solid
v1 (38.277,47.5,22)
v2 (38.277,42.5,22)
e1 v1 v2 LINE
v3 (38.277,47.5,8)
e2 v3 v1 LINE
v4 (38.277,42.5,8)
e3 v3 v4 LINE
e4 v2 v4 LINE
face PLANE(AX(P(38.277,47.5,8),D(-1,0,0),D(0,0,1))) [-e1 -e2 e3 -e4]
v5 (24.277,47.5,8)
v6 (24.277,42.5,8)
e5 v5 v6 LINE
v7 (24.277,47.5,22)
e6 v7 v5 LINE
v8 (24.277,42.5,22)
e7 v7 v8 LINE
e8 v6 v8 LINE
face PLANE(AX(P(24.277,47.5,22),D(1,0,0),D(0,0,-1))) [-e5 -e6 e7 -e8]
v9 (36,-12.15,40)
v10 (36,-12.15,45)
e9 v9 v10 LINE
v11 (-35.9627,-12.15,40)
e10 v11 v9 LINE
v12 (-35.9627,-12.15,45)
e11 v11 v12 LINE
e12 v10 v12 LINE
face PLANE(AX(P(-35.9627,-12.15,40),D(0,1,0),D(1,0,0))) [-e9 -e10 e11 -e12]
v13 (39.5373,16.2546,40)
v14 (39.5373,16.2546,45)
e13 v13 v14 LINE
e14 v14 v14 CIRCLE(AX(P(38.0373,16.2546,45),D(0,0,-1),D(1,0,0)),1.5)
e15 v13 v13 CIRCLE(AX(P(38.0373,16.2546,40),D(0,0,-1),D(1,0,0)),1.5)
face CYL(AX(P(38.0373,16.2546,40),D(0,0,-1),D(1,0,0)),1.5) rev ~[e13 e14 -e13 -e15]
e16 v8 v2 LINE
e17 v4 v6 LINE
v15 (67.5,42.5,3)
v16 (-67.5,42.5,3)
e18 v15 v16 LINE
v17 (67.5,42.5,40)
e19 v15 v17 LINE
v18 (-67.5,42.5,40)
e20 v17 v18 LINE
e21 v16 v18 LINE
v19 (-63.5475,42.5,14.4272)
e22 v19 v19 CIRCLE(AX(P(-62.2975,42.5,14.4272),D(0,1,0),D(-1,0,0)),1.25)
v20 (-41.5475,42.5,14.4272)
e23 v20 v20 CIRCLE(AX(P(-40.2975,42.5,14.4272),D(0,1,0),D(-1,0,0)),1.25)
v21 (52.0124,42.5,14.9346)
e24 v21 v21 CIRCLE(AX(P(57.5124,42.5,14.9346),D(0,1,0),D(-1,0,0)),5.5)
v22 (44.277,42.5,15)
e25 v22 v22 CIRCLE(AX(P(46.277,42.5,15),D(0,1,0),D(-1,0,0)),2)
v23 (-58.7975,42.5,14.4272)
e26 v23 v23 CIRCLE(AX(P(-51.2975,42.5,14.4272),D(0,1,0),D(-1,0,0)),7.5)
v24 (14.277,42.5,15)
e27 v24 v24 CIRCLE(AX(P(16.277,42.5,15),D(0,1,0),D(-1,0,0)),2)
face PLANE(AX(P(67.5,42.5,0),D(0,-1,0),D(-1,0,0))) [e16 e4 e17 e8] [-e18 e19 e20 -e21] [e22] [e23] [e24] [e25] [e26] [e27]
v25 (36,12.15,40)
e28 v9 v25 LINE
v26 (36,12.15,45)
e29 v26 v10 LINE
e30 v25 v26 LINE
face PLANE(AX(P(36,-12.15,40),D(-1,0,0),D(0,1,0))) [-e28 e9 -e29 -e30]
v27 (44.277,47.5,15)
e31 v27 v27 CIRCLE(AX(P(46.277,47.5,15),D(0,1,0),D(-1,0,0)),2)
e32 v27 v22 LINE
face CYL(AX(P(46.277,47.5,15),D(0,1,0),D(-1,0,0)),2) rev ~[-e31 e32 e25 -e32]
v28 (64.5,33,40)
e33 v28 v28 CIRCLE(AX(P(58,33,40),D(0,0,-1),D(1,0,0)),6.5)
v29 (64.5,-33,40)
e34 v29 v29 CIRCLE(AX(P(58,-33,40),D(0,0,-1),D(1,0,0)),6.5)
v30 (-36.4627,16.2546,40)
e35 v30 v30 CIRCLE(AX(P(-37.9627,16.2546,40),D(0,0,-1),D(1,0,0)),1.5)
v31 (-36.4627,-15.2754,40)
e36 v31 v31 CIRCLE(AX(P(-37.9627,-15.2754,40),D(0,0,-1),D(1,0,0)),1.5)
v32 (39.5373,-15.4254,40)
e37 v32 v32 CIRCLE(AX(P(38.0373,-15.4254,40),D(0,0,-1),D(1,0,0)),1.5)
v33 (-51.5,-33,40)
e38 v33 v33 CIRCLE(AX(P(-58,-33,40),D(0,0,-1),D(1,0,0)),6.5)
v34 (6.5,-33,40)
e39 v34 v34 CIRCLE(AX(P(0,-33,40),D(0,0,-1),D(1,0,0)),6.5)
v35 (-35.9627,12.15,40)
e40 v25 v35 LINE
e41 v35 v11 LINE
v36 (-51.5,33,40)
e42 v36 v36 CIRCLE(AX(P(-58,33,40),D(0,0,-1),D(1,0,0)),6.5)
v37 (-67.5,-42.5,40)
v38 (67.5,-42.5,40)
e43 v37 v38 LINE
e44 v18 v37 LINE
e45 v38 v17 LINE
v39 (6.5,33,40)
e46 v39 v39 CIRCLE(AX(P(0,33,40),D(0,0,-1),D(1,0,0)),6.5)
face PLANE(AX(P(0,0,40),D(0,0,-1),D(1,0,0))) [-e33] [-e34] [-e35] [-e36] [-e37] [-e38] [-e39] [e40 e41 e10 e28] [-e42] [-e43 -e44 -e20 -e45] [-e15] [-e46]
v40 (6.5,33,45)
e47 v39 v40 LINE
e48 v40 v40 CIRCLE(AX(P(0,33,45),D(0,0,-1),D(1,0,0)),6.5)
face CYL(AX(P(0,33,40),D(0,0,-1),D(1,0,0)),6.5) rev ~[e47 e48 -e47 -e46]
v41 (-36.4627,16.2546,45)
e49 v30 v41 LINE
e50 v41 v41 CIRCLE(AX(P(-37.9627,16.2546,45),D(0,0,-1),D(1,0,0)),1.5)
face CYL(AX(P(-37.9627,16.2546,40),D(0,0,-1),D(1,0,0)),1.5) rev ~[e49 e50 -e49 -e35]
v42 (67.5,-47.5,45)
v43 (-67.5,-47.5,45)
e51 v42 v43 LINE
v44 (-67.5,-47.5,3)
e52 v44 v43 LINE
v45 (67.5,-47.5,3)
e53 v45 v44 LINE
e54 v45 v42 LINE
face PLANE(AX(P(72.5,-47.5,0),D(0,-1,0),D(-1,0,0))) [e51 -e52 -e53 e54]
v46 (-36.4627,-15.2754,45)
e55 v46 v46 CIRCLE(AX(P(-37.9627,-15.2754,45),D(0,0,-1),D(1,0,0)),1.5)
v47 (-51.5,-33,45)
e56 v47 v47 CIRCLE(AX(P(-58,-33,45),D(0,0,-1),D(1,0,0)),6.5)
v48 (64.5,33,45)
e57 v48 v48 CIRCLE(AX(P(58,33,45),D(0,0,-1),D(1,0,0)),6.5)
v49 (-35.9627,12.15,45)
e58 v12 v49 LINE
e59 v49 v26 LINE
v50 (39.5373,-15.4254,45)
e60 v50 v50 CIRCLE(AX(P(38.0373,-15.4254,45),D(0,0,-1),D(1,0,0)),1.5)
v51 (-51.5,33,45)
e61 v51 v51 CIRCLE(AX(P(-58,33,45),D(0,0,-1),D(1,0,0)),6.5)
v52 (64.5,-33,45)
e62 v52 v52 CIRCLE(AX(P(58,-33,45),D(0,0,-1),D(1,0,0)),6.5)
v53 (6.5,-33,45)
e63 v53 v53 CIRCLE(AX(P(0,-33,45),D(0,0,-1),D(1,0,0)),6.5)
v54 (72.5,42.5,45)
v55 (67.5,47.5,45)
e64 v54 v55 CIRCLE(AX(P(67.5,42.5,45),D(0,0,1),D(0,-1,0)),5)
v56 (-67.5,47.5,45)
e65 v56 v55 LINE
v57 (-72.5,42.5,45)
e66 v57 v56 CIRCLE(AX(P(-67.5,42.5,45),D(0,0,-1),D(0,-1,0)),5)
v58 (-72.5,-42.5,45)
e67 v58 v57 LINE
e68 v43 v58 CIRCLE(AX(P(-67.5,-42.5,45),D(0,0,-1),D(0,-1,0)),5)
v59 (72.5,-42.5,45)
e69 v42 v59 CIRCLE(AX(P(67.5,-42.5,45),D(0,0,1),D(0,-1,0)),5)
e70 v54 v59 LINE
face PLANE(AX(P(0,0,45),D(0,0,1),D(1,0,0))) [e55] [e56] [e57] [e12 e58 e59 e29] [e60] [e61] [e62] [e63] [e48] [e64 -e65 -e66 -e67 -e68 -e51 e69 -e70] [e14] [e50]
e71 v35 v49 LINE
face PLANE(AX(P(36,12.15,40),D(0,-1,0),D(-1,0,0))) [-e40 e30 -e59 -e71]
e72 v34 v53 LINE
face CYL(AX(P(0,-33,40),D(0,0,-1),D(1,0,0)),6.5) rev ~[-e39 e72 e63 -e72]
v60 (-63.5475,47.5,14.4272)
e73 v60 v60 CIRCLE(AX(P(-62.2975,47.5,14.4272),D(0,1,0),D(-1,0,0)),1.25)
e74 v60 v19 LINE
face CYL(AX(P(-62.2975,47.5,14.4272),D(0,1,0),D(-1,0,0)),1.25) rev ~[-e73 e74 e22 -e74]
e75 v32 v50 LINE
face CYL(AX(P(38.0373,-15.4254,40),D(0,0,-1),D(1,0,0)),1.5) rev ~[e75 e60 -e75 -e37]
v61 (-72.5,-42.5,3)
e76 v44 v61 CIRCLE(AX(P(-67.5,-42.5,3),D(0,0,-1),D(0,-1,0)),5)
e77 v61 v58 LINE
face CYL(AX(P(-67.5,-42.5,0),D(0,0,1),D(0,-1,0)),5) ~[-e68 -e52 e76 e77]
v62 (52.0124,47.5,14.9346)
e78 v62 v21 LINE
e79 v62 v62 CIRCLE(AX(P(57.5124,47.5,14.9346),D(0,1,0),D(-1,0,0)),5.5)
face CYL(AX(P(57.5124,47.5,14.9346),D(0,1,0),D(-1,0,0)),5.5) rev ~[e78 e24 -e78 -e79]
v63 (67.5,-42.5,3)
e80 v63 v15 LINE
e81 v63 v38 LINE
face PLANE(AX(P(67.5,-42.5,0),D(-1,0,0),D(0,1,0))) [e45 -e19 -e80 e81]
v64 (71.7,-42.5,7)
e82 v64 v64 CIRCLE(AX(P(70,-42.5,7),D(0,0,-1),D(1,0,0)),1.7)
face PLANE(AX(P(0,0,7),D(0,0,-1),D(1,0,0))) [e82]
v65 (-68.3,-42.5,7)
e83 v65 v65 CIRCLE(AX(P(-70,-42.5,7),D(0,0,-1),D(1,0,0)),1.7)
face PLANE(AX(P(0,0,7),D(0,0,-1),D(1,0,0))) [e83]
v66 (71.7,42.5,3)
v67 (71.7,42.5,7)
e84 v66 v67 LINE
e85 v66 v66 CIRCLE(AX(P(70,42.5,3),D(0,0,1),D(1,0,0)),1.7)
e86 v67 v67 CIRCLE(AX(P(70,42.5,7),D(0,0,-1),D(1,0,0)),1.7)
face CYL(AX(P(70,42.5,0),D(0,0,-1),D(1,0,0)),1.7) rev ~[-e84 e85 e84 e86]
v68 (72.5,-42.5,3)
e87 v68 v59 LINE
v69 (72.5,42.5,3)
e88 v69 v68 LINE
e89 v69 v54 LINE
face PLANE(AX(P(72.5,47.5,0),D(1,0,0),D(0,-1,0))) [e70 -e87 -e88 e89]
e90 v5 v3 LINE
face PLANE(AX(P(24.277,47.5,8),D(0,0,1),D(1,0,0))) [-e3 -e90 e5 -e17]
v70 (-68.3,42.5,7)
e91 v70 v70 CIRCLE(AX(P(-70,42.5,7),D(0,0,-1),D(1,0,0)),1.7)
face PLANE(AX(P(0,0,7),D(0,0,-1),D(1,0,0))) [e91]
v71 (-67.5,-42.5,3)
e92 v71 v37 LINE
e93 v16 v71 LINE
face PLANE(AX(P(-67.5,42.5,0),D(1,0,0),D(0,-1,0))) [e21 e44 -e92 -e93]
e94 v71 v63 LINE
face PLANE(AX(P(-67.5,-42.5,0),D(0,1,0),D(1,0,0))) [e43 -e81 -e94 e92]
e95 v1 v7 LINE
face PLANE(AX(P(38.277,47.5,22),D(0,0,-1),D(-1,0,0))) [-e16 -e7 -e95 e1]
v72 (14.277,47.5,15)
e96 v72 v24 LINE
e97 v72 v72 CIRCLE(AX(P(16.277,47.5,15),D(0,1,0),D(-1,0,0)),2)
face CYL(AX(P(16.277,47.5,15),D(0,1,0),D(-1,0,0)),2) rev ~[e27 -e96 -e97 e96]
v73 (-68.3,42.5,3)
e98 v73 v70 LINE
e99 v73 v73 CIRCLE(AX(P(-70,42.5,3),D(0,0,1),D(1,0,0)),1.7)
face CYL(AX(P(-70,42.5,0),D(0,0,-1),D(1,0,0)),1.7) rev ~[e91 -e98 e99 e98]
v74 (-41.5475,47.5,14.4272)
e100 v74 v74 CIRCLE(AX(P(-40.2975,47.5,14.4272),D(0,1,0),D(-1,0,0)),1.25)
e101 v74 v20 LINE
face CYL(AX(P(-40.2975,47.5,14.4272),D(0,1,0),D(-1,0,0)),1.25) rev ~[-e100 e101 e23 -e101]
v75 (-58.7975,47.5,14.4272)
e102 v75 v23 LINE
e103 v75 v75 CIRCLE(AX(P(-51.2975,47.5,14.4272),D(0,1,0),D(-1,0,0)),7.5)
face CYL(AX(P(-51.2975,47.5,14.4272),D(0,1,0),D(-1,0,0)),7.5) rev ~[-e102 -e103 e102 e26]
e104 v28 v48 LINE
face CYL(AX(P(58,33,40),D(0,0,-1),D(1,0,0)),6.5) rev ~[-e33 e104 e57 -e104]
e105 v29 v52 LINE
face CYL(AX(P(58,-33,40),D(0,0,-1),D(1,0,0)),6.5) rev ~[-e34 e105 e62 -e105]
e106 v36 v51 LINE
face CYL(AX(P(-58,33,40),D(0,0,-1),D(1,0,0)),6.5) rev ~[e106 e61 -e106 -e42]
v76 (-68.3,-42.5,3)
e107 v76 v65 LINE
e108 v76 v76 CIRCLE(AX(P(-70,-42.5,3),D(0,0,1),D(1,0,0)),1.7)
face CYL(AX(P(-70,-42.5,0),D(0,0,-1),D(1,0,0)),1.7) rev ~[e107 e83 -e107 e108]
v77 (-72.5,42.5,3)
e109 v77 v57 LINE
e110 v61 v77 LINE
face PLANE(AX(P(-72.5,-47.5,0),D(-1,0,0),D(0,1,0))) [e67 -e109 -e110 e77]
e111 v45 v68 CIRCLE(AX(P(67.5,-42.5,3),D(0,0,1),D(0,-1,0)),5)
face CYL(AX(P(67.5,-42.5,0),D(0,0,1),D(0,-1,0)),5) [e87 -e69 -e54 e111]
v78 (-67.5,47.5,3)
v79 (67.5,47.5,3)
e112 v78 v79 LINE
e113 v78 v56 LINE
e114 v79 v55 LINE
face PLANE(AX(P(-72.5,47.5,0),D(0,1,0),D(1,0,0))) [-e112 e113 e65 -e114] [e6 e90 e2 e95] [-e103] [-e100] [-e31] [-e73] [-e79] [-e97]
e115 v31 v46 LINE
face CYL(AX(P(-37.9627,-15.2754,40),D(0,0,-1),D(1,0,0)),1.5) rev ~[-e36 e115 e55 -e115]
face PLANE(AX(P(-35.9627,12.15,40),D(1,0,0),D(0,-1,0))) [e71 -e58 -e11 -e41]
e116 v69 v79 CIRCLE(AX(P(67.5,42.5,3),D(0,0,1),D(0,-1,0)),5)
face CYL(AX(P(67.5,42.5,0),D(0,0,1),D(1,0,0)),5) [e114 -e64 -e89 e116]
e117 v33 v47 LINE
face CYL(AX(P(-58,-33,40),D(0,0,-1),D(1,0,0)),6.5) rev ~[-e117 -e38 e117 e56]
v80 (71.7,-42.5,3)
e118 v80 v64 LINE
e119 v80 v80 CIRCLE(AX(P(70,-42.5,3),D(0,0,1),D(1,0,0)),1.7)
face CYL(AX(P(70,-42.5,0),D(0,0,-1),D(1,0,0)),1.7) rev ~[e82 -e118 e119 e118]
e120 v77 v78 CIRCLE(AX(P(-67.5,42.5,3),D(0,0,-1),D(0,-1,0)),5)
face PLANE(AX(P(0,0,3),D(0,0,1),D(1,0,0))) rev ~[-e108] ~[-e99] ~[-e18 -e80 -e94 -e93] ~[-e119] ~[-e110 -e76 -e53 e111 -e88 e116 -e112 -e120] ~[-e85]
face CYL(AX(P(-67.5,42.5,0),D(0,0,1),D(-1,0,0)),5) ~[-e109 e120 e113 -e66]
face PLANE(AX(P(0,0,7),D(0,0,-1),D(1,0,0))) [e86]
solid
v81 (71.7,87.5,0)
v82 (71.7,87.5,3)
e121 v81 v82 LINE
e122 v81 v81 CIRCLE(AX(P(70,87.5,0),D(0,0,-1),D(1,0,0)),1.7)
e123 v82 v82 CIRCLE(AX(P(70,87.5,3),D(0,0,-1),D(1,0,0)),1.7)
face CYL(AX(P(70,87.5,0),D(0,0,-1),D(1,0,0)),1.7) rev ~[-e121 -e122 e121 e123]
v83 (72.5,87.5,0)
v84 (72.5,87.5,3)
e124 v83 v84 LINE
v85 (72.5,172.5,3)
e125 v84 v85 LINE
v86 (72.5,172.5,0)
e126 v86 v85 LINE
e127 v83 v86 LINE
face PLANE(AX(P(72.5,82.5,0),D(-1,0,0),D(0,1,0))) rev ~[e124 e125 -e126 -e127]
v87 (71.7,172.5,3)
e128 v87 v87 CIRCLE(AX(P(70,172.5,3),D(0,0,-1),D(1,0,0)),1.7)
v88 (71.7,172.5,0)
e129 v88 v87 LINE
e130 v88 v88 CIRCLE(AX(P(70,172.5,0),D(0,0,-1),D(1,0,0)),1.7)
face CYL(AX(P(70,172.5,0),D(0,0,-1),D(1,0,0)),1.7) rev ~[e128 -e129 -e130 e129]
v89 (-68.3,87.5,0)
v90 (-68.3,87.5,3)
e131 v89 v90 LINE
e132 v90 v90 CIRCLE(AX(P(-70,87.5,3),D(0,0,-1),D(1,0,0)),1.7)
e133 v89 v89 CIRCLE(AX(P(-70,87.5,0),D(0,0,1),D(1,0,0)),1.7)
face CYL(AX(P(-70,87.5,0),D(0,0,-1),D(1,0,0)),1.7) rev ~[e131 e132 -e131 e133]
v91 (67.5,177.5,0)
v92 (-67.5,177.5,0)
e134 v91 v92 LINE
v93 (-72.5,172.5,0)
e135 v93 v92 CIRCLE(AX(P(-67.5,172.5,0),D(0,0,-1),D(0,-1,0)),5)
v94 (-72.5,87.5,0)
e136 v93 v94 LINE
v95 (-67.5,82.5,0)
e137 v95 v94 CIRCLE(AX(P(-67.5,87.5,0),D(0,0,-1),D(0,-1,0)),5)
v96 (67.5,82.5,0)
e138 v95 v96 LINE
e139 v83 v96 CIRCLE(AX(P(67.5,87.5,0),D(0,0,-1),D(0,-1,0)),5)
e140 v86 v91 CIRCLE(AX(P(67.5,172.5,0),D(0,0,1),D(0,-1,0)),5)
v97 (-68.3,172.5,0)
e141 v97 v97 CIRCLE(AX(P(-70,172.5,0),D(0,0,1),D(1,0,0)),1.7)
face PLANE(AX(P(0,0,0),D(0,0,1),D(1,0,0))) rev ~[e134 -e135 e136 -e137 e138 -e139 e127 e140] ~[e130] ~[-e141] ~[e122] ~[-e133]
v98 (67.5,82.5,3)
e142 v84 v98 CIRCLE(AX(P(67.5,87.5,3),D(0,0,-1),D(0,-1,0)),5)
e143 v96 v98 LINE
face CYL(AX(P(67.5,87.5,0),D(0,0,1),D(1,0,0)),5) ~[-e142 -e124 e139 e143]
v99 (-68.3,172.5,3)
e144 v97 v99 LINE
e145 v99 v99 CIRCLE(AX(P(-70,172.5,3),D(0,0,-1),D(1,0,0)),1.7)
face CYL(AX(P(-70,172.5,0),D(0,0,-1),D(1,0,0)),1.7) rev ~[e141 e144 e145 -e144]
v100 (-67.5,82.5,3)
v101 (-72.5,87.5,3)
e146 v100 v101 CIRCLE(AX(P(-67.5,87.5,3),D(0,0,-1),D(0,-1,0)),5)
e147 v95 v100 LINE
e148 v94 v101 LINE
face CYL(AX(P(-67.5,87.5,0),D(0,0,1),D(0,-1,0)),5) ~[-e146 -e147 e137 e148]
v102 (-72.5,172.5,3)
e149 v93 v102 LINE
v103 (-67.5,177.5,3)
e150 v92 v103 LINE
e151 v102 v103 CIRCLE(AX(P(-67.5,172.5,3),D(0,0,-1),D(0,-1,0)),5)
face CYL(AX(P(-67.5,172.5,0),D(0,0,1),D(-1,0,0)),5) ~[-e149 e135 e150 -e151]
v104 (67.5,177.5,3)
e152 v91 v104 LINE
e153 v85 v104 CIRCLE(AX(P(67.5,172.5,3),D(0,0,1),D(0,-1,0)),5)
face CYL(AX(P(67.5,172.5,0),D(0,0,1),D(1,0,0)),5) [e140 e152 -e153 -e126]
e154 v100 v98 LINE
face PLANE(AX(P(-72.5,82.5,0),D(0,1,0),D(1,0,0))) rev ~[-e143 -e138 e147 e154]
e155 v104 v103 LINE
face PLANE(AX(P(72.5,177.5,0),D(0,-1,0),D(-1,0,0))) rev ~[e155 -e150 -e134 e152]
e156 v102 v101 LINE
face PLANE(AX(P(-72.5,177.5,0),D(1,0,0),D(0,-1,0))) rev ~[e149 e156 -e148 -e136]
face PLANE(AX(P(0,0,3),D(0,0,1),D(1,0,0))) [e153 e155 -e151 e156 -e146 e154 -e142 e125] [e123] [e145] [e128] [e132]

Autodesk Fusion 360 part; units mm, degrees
sketch "스케치1" plane through (0, 0, 0) normal (0, 0, 1) x (1, 0, 0)
  line L0 (72.5, -47.5) -> (-72.5, -47.5)
  line L1 (-72.5, -47.5) -> (-72.5, 47.5)
  line L2 (-72.5, 47.5) -> (72.5, 47.5)
  line L3 (72.5, 47.5) -> (72.5, -47.5)
  line L4 (72.5, -47.5) -> (-72.5, 47.5) construction
  line L5 (-72.5, -47.5) -> (72.5, 47.5) construction
  dimension "d1" = 145
  dimension "d2" = 95
extrude "돌출1" add sketch "스케치1" along normal blind 45 makes body 1
sketch "스케치2" plane through (0, 0, 0) normal (0, 0, -1) x (1, 0, 0)
  line L0 (-72.5, -47.5) -> (72.5, -47.5)
  line L1 (72.5, -47.5) -> (72.5, 47.5)
  line L2 (72.5, 47.5) -> (-72.5, 47.5)
  line L3 (-72.5, 47.5) -> (-72.5, -47.5)
  line L4 (67.5, -42.5) -> (-67.5, -42.5)
  line L5 (-67.5, -42.5) -> (-67.5, 42.5)
  line L6 (-67.5, 42.5) -> (67.5, 42.5)
  line L7 (67.5, 42.5) -> (67.5, -42.5)
  line L8 (67.5, -42.5) -> (-67.5, 42.5) construction
  line L9 (-67.5, -42.5) -> (67.5, 42.5) construction
  dimension "d5" = 135
  dimension "d6" = 85
extrude "돌출2" cut sketch "스케치2" against normal blind 40 contours L4 L5 L6 L7 bodies 1
sketch "스케치3" plane through (0, 0, 45) normal (0, 0, 1) x (-1, 0, 0)
sketch "스케치4" plane through (0, 0, 40) normal (0, 0, -1) x (1, 0, 0)
  line L0 (67.5, 42.5) -> (-67.5, 42.5)
  line L1 (-67.5, 42.5) -> (-67.5, -42.5)
  line L2 (-67.5, -42.5) -> (67.5, -42.5)
  line L3 (67.5, -42.5) -> (67.5, 42.5)
  circle A0 centre (55, -30) radius 6.5
  line L4 (67.5, 42.5) -> (55, 42.5)
  line L5 (55, 42.5) -> (55, 30)
  line L6 (55, 30) -> (67.5, 30)
  line L7 (67.5, 30) -> (67.5, 42.5)
  circle A1 centre (55, 30) radius 6.5
  line L8 (-67.5, 42.5) -> (-55, 42.5)
  line L9 (-55, 42.5) -> (-55, 30)
  line L10 (-55, 30) -> (-67.5, 30)
  line L11 (-67.5, 30) -> (-67.5, 42.5)
  circle A2 centre (-55, 30) radius 6.5
  line L12 (-67.5, -42.5) -> (-55, -42.5)
  line L13 (-55, -42.5) -> (-55, -30)
  line L14 (-55, -30) -> (-67.5, -30)
  line L15 (-67.5, -30) -> (-67.5, -42.5)
  circle A3 centre (-55, -30) radius 6.5
  line L16 (55, 30) -> (0, 30)
  circle A4 centre (0, 30) radius 6.5
  dimension "d9" = 13
  dimension "d10" = 12.5
  dimension "d11" = 12.5
  dimension "d12" = 13
  dimension "d13" = 12.5
  dimension "d14" = 12.5
  dimension "d15" = 13
  dimension "d16" = 12.5
  dimension "d17" = 12.5
  dimension "d18" = 13
  dimension "d19" = 13
extrude "돌출3" cut sketch "스케치4" against normal blind 40 contours A4 | L5 L6 A1 | L5 A1 L16 | L6 A1 L16 | L9 L10 A2 | L9 L10 A2 | L13 L14 A3 | L13 L14 A3 | A0 bodies 1
fillet "필렛1" radius 5 4 edges at (-72.5, -47.5, 22.5) (72.5, -47.5, 22.5) (72.5, 47.5, 22.5) (-72.5, 47.5, 22.5) on bodies 1
sketch "스케치5" plane through (0, 0, 40) normal (0, 0, -1) x (1, 0, 0)
  circle A0 centre (0, 30) radius 6.5
  circle A1 centre (55, 30) radius 6.5
  circle A2 centre (-55, 30) radius 6.5
  circle A3 centre (55, -30) radius 6.5
  circle A4 centre (-55, -30) radius 6.5
  line L0 (67.5, 42.5) -> (-67.5, 42.5)
  line L1 (-67.5, 42.5) -> (-67.5, -42.5)
  line L2 (-67.5, -42.5) -> (67.5, -42.5)
  line L3 (67.5, -42.5) -> (67.5, 42.5)
  circle A5 centre (38.0373, 15.4254) radius 1.5
  line L4 (36.0373, -12.2246) -> (-35.9627, -12.2246)
  line L5 (-35.9627, -12.2246) -> (-35.9627, 12.2754)
  line L6 (36.0373, 12.2754) -> (36.0373, -12.2246)
  line L7 (-35.9627, 12.2754) -> (36.0373, 12.2754)
  circle A6 centre (38.0373, -16.2546) radius 1.5
  circle A7 centre (-37.9627, -16.2546) radius 1.5
  circle A8 centre (-37.9627, 15.2754) radius 1.5
  line L8 (-36, 12.15) -> (36, 12.15)
  line L9 (36, 12.15) -> (36, -12.15)
  line L10 (36, -12.15) -> (-36, -12.15)
  line L11 (-36, -12.15) -> (-36, 12.15)
  line L12 (-36, 12.15) -> (36, -12.15) construction
  line L13 (36, 12.15) -> (-36, -12.15) construction
  dimension "d24" = 72
extrude "돌출4" cut sketch "스케치5" against normal blind 40 contours A5 | L5 L8 L9 L10 | A6 | A7 | A8 bodies 1
sketch "스케치6" plane through (0, 47.5, 0) normal (0, 1, 0) x (-1, 0, 0)
  line L0 (67.5, 0) -> (67.5, 45)
  line L1 (67.5, 45) -> (-67.5, 45)
  line L2 (-67.5, 45) -> (-67.5, 0)
  line L3 (-67.5, 0) -> (67.5, 0)
  circle A0 centre (40.6045, 15.8083) radius 7.5
  circle A1 centre (51.6045, 15.8083) radius 1.25
  circle A2 centre (29.6045, 15.8083) radius 1.25
extrude "돌출5" cut sketch "스케치6" against normal blind 10 contours A0 | A1 | A2 bodies 1
sketch "스케치7" plane through (0, 47.5, 0) normal (0, 1, 0) x (-1, 0, 0)
  circle A0 centre (40.6045, 15.8083) radius 7.5
  circle A1 centre (51.6045, 15.8083) radius 1.25
  circle A2 centre (29.6045, 15.8083) radius 1.25
  line L0 (67.5, 0) -> (67.5, 45)
  line L1 (67.5, 45) -> (-67.5, 45)
  line L2 (-67.5, 45) -> (-67.5, 0)
  line L3 (-67.5, 0) -> (67.5, 0)
  circle A3 centre (-41.3409, 16.5935) radius 5.5
  dimension "d29" = 11
extrude "돌출6" cut sketch "스케치7" against normal blind 17 contours A3 bodies 1
sketch "스케치8" plane through (0, 47.5, 0) normal (0, 1, 0) x (-1, 0, 0)
  circle A0 centre (-41.3409, 16.5935) radius 5.5
  circle A1 centre (40.6045, 15.8083) radius 7.5
  circle A2 centre (51.6045, 15.8083) radius 1.25
  circle A3 centre (29.6045, 15.8083) radius 1.25
  line L0 (67.5, 0) -> (67.5, 45)
  line L1 (67.5, 45) -> (-67.5, 45)
  line L2 (-67.5, 45) -> (-67.5, 0)
  line L3 (-67.5, 0) -> (67.5, 0)
  line L4 (0, 15) -> (-15, 15)
  line L5 (-15, 15) -> (0, 15)
  line L6 (0, 15) -> (15, 15)
  circle A4 centre (-15, 15) radius 2
  circle A5 centre (15, 15) radius 2
  line L7 (7, 8) -> (-7, 8)
  line L8 (-7, 8) -> (-7, 22)
  line L9 (-7, 22) -> (7, 22)
  line L10 (7, 22) -> (7, 8)
  line L11 (7, 8) -> (-7, 22) construction
  line L12 (-7, 8) -> (7, 22) construction
  line L13 (0, 45) -> (0, 28)
  circle A6 centre (40.6045, 15.8083) radius 7.5
  circle A7 centre (29.6045, 15.8083) radius 1.25
  circle A8 centre (51.6045, 15.8083) radius 1.25
  circle A9 centre (40.6045, 33.8083) radius 7.5
  circle A10 centre (29.6045, 33.8083) radius 1.25
  circle A11 centre (51.6045, 33.8083) radius 1.25
  point P0 (0, 15)
  dimension "d32" = 15
  dimension "d33" = 15
  dimension "d34" = 4
  dimension "d35" = 4
  dimension "d36" = 14
  dimension "d37" = 14
  dimension "d39" = 17
sketch "스케치9" plane through (0, 42.5, 0) normal (0, -1, 0) x (1, 0, 0)
  circle A0 centre (41.3409, 16.5935) radius 5.5
  circle A1 centre (-40.6045, 15.8083) radius 7.5
  circle A2 centre (-51.6045, 15.8083) radius 1.25
  circle A3 centre (-29.6045, 15.8083) radius 1.25
  line L0 (-67.5, 0) -> (67.5, 0)
  line L1 (67.5, 0) -> (67.5, 40)
  line L2 (67.5, 40) -> (-67.5, 40)
  line L3 (-67.5, 40) -> (-67.5, 0)
  line L4 (50, 40) -> (50, 28)
  dimension "d38" = 12
extrude "돌출7" add sketch "스케치8" against normal blind 5 contours A0 | A1 A6 | A2 A8 | A3 A7 bodies 1
sketch "스케치10" plane through (0, 47.5, 0) normal (0, 1, 0) x (-1, 0, 0)
  line L0 (67.5, 0) -> (67.5, 45)
  line L1 (67.5, 45) -> (-67.5, 45)
  line L2 (-67.5, 45) -> (-67.5, 0)
  line L3 (-67.5, 0) -> (67.5, 0)
  circle A0 centre (51.2975, 14.4272) radius 7.5
  circle A1 centre (40.2975, 14.4272) radius 1.25
  circle A2 centre (62.2975, 14.4272) radius 1.25
  line L4 (-38.277, 22) -> (-24.277, 22)
  line L5 (-38.277, 8) -> (-38.277, 22)
  line L6 (-24.277, 8) -> (-38.277, 8)
  line L7 (-24.277, 22) -> (-24.277, 8)
  circle A3 centre (-16.277, 15) radius 2
  circle A4 centre (-46.277, 15) radius 2
  circle A5 centre (-57.5124, 14.9346) radius 5.5
  line L8 (0, 45) -> (0, 28)
  line L9 (0, 28) -> (1.5663, 28)
  line L10 (1.5663, 28) -> (67.5, 28)
  line L11 (0, 28) -> (-66.6014, 28)
  dimension "d42" = 4
  dimension "d43" = 4
  dimension "d44" = 14
  dimension "d45" = 14
  dimension "d46" = 17
extrude "돌출8" cut sketch "스케치10" against normal blind 40 contours A0 | A1 | A2 | L4 L5 L6 L7 | A3 | A4 | A5 bodies 1
sketch "스케치11" plane through (72.5, 0, 0) normal (1, 0, 0) x (0, 1, 0)
  line L0 (42.5, 0) -> (42.5, 45)
  line L1 (42.5, 45) -> (-42.5, 45)
  line L2 (-42.5, 45) -> (-42.5, 0)
  line L3 (-42.5, 0) -> (42.5, 0)
sketch "스케치12" plane through (0, 0, 0) normal (0, 0, -1) x (1, 0, 0)
  line L0 (-67.5, -42.5) -> (-67.5, 42.5)
  line L1 (-67.5, 42.5) -> (67.5, 42.5)
  line L2 (67.5, 42.5) -> (67.5, -42.5)
  line L3 (67.5, -42.5) -> (-67.5, -42.5)
  arc A0 (-72.5, -42.5) -> (-67.5, -47.5) centre (-67.5, -42.5) ccw
  line L4 (-67.5, -47.5) -> (67.5, -47.5)
  arc A1 (67.5, -47.5) -> (72.5, -42.5) centre (67.5, -42.5) ccw
  line L5 (72.5, -42.5) -> (72.5, 42.5)
  arc A2 (72.5, 42.5) -> (67.5, 47.5) centre (67.5, 42.5) ccw
  line L6 (67.5, 47.5) -> (-67.5, 47.5)
  arc A3 (-67.5, 47.5) -> (-72.5, 42.5) centre (-67.5, 42.5) ccw
  line L7 (-72.5, 42.5) -> (-72.5, -42.5)
  line L8 (-72.5, 47.5) -> (72.5, -47.5) construction
  line L9 (72.5, 47.5) -> (-72.5, -47.5) construction
  line L10 (-72.5, 47.5) -> (-70, 47.5)
  line L11 (-70, 47.5) -> (-70, 42.5)
  line L12 (-70, 42.5) -> (-72.5, 42.5)
  line L13 (-72.5, 42.5) -> (-72.5, 47.5)
  circle A4 centre (-70, 42.5) radius 1.7
  line L14 (-72.5, -47.5) -> (-70, -47.5)
  line L15 (-70, -47.5) -> (-70, -42.5)
  line L16 (-70, -42.5) -> (-72.5, -42.5)
  line L17 (-72.5, -42.5) -> (-72.5, -47.5)
  circle A5 centre (-70, -42.5) radius 1.7
  dimension "d49" = 145
  dimension "d64" = 2.5
  dimension "d65" = 3.4
  dimension "d66" = 2.5
  dimension "d67" = 3.4
sketch "스케치13" plane through (0, 0, 0) normal (1, 0, 0) x (0, 1, 0)
sketch "스케치14" plane through (0, 0, 0) normal (0, 0, 1) x (1, 0, 0)
  line L0 (72.5, 177.5) -> (-72.5, 177.5)
  line L1 (-72.5, 177.5) -> (-72.5, 82.5)
  line L2 (-72.5, 82.5) -> (72.5, 82.5)
  line L3 (72.5, 82.5) -> (72.5, 177.5)
  line L4 (72.5, 177.5) -> (-72.5, 82.5) construction
  line L5 (-72.5, 177.5) -> (72.5, 82.5) construction
  point P0 (0, 130)
  dimension "d50" = 145
  dimension "d51" = 95
extrude "돌출9" add sketch "스케치14" along normal blind 3 separate body makes body 2
fillet "필렛2" radius 5 4 edges at (72.5, 177.5, 1.5) (-72.5, 177.5, 1.5) (-72.5, 82.5, 1.5) (72.5, 82.5, 1.5) on bodies 2
sketch "스케치15" plane through (0, 0, 0) normal (0, 0, -1) x (1, 0, 0)
  line L0 (72.5, -47.5) -> (70, -47.5)
  line L1 (70, -47.5) -> (70, -42.5)
  line L2 (70, -42.5) -> (72.5, -42.5)
  line L3 (72.5, -42.5) -> (72.5, -47.5)
  circle A0 centre (70, -42.5) radius 1.7
  line L4 (72.5, 47.5) -> (70, 47.5)
  line L5 (70, 47.5) -> (70, 42.5)
  line L6 (70, 42.5) -> (72.5, 42.5)
  line L7 (72.5, 42.5) -> (72.5, 47.5)
  circle A1 centre (70, 42.5) radius 1.7
  line L8 (-67.5088, 42.4979) -> (-70.0088, 42.4979) construction
  dimension "d56" = 2.5
  dimension "d57" = 3.4
  dimension "d58" = 2.5
  dimension "d59" = 5
  dimension "d60" = 3.4
  dimension "d61" = 2.5
extrude "돌출10" cut sketch "스케치15" against normal blind 7 contours L1 L2 A0 | L1 L2 A0 | L5 L6 A1 | L5 L6 A1 bodies 1
extrude "돌출11" cut sketch "스케치12" against normal blind 7 contours L15 L16 A5 | L15 L16 A5 | L11 L12 A4 | L11 L12 A4 bodies 1
sketch "스케치16" plane through (0, 0, 0) normal (0, 0, -1) x (1, 0, 0)
  arc A0 (72.5, -87.5) -> (67.5, -82.5) centre (67.5, -87.5) ccw
  line L0 (67.5, -82.5) -> (-67.5, -82.5)
  arc A1 (-67.5, -82.5) -> (-72.5, -87.5) centre (-67.5, -87.5) ccw
  line L1 (-72.5, -87.5) -> (-72.5, -172.5)
  arc A2 (-72.5, -172.5) -> (-67.5, -177.5) centre (-67.5, -172.5) ccw
  line L2 (-67.5, -177.5) -> (67.5, -177.5)
  arc A3 (67.5, -177.5) -> (72.5, -172.5) centre (67.5, -172.5) ccw
  line L3 (72.5, -172.5) -> (72.5, -87.5)
  line L4 (72.5, -172.5) -> (70, -172.5)
  circle A4 centre (70, -172.5) radius 1.7
  line L5 (72.5, -87.5) -> (70, -87.5)
  circle A5 centre (70, -87.5) radius 1.7
  line L6 (-72.5, -87.5) -> (-70, -87.5)
  circle A6 centre (-70, -87.5) radius 1.7
  line L7 (-72.5, -172.5) -> (-70, -172.5)
  circle A7 centre (-70, -172.5) radius 1.7
  dimension "d70" = 2.5
  dimension "d71" = 3.4
  dimension "d72" = 2.5
  dimension "d73" = 3.4
  dimension "d74" = 3.4
  dimension "d75" = 2.5
  dimension "d76" = 3.4
extrude "돌출12" cut sketch "스케치16" against normal blind 40 contours A6 | A7 | A4 | A5 bodies 2
sketch "스케치17" plane through (0, 0, 40) normal (0, 0, -1) x (1, 0, 0)
  circle A0 centre (38.0373, 15.4254) radius 1.5
  circle A1 centre (38.0373, -16.2546) radius 1.5
  circle A2 centre (-37.9627, 15.2754) radius 1.5
  line L0 (-35.9627, 12.15) -> (36, 12.15)
  line L1 (36, 12.15) -> (36, -12.15)
  line L2 (36, -12.15) -> (-35.9627, -12.15)
  line L3 (-35.9627, -12.15) -> (-35.9627, 12.15)
  circle A3 centre (-37.9627, -16.2546) radius 1.5
  circle A4 centre (0, 30) radius 6.5
  circle A5 centre (55, 30) radius 6.5
  circle A6 centre (-55, 30) radius 6.5
  circle A7 centre (55, -30) radius 6.5
  circle A8 centre (-55, -30) radius 6.5
  line L4 (67.5, 42.5) -> (-67.5, 42.5)
  line L5 (-67.5, 42.5) -> (-67.5, -42.5)
  line L6 (-67.5, -42.5) -> (67.5, -42.5)
  line L7 (67.5, -42.5) -> (67.5, 42.5)
  circle A9 centre (0, -30) radius 6.5
  dimension "d79" = 13
extrude "돌출13" cut sketch "스케치17" against normal blind 15 contours A9 bodies 1
sketch "스케치18" plane through (0, 47.5, 0) normal (0, 1, 0) x (-1, 0, 0)
  line L0 (-38.277, 8) -> (-38.277, 22)
  line L1 (-38.277, 22) -> (-24.277, 22)
  line L2 (-24.277, 22) -> (-24.277, 8)
  line L3 (-24.277, 8) -> (-38.277, 8)
  circle A0 centre (62.2975, 14.4272) radius 1.25
  circle A1 centre (-16.277, 15) radius 2
  circle A2 centre (-57.5124, 14.9346) radius 5.5
  circle A3 centre (51.2975, 14.4272) radius 7.5
  circle A4 centre (40.2975, 14.4272) radius 1.25
  circle A5 centre (-46.277, 15) radius 2
  line L4 (67.5, 0) -> (67.5, 45)
  line L5 (67.5, 45) -> (-67.5, 45)
  line L6 (-67.5, 45) -> (-67.5, 0)
  line L7 (-67.5, 0) -> (67.5, 0)
  line L8 (-45, 45) -> (-45, 25)
extrude "돌출14" cut 1 faces at (22.5, -45.8333, 0) along direction (0, 0, 1) blind 3 on bodies 1 bodies 1
sketch "스케치19" plane through (-72.5, 0, 0) normal (-1, 0, 0) x (0, -1, 0)
  line L0 (-42.5, 3) -> (42.5, 3)
  line L1 (42.5, 3) -> (42.5, 45)
  line L2 (42.5, 45) -> (-42.5, 45)
  line L3 (-42.5, 45) -> (-42.5, 3)
sketch "스케치20" plane through (0, 0, 40) normal (0, 0, -1) x (1, 0, 0)
  circle A0 centre (0, -30) radius 6.5
  circle A1 centre (38.0373, 15.4254) radius 1.5
  circle A2 centre (38.0373, -16.2546) radius 1.5
  circle A3 centre (-37.9627, 15.2754) radius 1.5
  line L0 (-35.9627, 12.15) -> (36, 12.15)
  line L1 (36, 12.15) -> (36, -12.15)
  line L2 (36, -12.15) -> (-35.9627, -12.15)
  line L3 (-35.9627, -12.15) -> (-35.9627, 12.15)
  circle A4 centre (-37.9627, -16.2546) radius 1.5
  circle A5 centre (0, 30) radius 6.5
  circle A6 centre (55, 30) radius 6.5
  circle A7 centre (-55, 30) radius 6.5
  circle A8 centre (55, -30) radius 6.5
  circle A9 centre (-55, -30) radius 6.5
  line L4 (67.5, 42.5) -> (-67.5, 42.5)
  line L5 (-67.5, 42.5) -> (-67.5, -42.5)
  line L6 (-67.5, -42.5) -> (67.5, -42.5)
  line L7 (67.5, -42.5) -> (67.5, 42.5)
extrude "돌출15" add sketch "스케치20" against normal blind 5 contours A0 | A5 | A6 | A7 | A8 | A9 bodies 1
sketch "스케치21" plane through (0, 0, 40) normal (0, 0, -1) x (1, 0, 0)
  circle A0 centre (38.0373, 15.4254) radius 1.5
  circle A1 centre (38.0373, -16.2546) radius 1.5
  circle A2 centre (-37.9627, 15.2754) radius 1.5
  line L0 (-35.9627, 12.15) -> (36, 12.15)
  line L1 (36, 12.15) -> (36, -12.15)
  line L2 (36, -12.15) -> (-35.9627, -12.15)
  line L3 (-35.9627, -12.15) -> (-35.9627, 12.15)
  circle A3 centre (-37.9627, -16.2546) radius 1.5
  line L4 (67.5, 42.5) -> (-67.5, 42.5)
  line L5 (-67.5, 42.5) -> (-67.5, -42.5)
  line L6 (-67.5, -42.5) -> (67.5, -42.5)
  line L7 (67.5, -42.5) -> (67.5, 42.5)
  circle A4 centre (58, 33) radius 6.5
  circle A5 centre (58, -33) radius 6.5
  circle A6 centre (-58, -33) radius 6.5
  circle A7 centre (-58, 33) radius 6.5
  circle A8 centre (0, 33) radius 6.5
  circle A9 centre (0, -33) radius 6.5
  dimension "d86" = 13
  dimension "d87" = 13
  dimension "d88" = 13
  dimension "d89" = 13
  dimension "d90" = 13
  dimension "d91" = 13
extrude "돌출16" cut sketch "스케치21" against normal blind 30 contours A4 | A5 | A6 | A7 | A8 | A9 bodies 1
sketch "스케치22" plane through (0, 0, 45) normal (0, 0, 1) x (-1, 0, 0)
  circle A0 centre (0, 33) radius 6.5
  circle A1 centre (0, -33) radius 6.5
  circle A2 centre (58, -33) radius 6.5
  circle A3 centre (-58, 33) radius 6.5
  circle A4 centre (-58, -33) radius 6.5
  circle A5 centre (58, 33) radius 6.5
  circle A6 centre (-38.0373, 15.4254) radius 1.5
  circle A7 centre (-38.0373, -16.2546) radius 1.5
  circle A8 centre (37.9627, 15.2754) radius 1.5
  line L0 (-36, 12.15) -> (35.9627, 12.15)
  line L1 (35.9627, 12.15) -> (35.9627, -12.15)
  line L2 (35.9627, -12.15) -> (-36, -12.15)
  line L3 (-36, -12.15) -> (-36, 12.15)
  circle A9 centre (37.9627, -16.2546) radius 1.5
  arc A10 (67.5, -47.5) -> (72.5, -42.5) centre (67.5, -42.5) ccw
  line L4 (72.5, -42.5) -> (72.5, 42.5)
  arc A11 (72.5, 42.5) -> (67.5, 47.5) centre (67.5, 42.5) ccw
  line L5 (67.5, 47.5) -> (-67.5, 47.5)
  arc A12 (-67.5, 47.5) -> (-72.5, 42.5) centre (-67.5, 42.5) ccw
  line L6 (-72.5, 42.5) -> (-72.5, -42.5)
  arc A13 (-72.5, -42.5) -> (-67.5, -47.5) centre (-67.5, -42.5) ccw
  line L7 (-67.5, -47.5) -> (67.5, -47.5)
